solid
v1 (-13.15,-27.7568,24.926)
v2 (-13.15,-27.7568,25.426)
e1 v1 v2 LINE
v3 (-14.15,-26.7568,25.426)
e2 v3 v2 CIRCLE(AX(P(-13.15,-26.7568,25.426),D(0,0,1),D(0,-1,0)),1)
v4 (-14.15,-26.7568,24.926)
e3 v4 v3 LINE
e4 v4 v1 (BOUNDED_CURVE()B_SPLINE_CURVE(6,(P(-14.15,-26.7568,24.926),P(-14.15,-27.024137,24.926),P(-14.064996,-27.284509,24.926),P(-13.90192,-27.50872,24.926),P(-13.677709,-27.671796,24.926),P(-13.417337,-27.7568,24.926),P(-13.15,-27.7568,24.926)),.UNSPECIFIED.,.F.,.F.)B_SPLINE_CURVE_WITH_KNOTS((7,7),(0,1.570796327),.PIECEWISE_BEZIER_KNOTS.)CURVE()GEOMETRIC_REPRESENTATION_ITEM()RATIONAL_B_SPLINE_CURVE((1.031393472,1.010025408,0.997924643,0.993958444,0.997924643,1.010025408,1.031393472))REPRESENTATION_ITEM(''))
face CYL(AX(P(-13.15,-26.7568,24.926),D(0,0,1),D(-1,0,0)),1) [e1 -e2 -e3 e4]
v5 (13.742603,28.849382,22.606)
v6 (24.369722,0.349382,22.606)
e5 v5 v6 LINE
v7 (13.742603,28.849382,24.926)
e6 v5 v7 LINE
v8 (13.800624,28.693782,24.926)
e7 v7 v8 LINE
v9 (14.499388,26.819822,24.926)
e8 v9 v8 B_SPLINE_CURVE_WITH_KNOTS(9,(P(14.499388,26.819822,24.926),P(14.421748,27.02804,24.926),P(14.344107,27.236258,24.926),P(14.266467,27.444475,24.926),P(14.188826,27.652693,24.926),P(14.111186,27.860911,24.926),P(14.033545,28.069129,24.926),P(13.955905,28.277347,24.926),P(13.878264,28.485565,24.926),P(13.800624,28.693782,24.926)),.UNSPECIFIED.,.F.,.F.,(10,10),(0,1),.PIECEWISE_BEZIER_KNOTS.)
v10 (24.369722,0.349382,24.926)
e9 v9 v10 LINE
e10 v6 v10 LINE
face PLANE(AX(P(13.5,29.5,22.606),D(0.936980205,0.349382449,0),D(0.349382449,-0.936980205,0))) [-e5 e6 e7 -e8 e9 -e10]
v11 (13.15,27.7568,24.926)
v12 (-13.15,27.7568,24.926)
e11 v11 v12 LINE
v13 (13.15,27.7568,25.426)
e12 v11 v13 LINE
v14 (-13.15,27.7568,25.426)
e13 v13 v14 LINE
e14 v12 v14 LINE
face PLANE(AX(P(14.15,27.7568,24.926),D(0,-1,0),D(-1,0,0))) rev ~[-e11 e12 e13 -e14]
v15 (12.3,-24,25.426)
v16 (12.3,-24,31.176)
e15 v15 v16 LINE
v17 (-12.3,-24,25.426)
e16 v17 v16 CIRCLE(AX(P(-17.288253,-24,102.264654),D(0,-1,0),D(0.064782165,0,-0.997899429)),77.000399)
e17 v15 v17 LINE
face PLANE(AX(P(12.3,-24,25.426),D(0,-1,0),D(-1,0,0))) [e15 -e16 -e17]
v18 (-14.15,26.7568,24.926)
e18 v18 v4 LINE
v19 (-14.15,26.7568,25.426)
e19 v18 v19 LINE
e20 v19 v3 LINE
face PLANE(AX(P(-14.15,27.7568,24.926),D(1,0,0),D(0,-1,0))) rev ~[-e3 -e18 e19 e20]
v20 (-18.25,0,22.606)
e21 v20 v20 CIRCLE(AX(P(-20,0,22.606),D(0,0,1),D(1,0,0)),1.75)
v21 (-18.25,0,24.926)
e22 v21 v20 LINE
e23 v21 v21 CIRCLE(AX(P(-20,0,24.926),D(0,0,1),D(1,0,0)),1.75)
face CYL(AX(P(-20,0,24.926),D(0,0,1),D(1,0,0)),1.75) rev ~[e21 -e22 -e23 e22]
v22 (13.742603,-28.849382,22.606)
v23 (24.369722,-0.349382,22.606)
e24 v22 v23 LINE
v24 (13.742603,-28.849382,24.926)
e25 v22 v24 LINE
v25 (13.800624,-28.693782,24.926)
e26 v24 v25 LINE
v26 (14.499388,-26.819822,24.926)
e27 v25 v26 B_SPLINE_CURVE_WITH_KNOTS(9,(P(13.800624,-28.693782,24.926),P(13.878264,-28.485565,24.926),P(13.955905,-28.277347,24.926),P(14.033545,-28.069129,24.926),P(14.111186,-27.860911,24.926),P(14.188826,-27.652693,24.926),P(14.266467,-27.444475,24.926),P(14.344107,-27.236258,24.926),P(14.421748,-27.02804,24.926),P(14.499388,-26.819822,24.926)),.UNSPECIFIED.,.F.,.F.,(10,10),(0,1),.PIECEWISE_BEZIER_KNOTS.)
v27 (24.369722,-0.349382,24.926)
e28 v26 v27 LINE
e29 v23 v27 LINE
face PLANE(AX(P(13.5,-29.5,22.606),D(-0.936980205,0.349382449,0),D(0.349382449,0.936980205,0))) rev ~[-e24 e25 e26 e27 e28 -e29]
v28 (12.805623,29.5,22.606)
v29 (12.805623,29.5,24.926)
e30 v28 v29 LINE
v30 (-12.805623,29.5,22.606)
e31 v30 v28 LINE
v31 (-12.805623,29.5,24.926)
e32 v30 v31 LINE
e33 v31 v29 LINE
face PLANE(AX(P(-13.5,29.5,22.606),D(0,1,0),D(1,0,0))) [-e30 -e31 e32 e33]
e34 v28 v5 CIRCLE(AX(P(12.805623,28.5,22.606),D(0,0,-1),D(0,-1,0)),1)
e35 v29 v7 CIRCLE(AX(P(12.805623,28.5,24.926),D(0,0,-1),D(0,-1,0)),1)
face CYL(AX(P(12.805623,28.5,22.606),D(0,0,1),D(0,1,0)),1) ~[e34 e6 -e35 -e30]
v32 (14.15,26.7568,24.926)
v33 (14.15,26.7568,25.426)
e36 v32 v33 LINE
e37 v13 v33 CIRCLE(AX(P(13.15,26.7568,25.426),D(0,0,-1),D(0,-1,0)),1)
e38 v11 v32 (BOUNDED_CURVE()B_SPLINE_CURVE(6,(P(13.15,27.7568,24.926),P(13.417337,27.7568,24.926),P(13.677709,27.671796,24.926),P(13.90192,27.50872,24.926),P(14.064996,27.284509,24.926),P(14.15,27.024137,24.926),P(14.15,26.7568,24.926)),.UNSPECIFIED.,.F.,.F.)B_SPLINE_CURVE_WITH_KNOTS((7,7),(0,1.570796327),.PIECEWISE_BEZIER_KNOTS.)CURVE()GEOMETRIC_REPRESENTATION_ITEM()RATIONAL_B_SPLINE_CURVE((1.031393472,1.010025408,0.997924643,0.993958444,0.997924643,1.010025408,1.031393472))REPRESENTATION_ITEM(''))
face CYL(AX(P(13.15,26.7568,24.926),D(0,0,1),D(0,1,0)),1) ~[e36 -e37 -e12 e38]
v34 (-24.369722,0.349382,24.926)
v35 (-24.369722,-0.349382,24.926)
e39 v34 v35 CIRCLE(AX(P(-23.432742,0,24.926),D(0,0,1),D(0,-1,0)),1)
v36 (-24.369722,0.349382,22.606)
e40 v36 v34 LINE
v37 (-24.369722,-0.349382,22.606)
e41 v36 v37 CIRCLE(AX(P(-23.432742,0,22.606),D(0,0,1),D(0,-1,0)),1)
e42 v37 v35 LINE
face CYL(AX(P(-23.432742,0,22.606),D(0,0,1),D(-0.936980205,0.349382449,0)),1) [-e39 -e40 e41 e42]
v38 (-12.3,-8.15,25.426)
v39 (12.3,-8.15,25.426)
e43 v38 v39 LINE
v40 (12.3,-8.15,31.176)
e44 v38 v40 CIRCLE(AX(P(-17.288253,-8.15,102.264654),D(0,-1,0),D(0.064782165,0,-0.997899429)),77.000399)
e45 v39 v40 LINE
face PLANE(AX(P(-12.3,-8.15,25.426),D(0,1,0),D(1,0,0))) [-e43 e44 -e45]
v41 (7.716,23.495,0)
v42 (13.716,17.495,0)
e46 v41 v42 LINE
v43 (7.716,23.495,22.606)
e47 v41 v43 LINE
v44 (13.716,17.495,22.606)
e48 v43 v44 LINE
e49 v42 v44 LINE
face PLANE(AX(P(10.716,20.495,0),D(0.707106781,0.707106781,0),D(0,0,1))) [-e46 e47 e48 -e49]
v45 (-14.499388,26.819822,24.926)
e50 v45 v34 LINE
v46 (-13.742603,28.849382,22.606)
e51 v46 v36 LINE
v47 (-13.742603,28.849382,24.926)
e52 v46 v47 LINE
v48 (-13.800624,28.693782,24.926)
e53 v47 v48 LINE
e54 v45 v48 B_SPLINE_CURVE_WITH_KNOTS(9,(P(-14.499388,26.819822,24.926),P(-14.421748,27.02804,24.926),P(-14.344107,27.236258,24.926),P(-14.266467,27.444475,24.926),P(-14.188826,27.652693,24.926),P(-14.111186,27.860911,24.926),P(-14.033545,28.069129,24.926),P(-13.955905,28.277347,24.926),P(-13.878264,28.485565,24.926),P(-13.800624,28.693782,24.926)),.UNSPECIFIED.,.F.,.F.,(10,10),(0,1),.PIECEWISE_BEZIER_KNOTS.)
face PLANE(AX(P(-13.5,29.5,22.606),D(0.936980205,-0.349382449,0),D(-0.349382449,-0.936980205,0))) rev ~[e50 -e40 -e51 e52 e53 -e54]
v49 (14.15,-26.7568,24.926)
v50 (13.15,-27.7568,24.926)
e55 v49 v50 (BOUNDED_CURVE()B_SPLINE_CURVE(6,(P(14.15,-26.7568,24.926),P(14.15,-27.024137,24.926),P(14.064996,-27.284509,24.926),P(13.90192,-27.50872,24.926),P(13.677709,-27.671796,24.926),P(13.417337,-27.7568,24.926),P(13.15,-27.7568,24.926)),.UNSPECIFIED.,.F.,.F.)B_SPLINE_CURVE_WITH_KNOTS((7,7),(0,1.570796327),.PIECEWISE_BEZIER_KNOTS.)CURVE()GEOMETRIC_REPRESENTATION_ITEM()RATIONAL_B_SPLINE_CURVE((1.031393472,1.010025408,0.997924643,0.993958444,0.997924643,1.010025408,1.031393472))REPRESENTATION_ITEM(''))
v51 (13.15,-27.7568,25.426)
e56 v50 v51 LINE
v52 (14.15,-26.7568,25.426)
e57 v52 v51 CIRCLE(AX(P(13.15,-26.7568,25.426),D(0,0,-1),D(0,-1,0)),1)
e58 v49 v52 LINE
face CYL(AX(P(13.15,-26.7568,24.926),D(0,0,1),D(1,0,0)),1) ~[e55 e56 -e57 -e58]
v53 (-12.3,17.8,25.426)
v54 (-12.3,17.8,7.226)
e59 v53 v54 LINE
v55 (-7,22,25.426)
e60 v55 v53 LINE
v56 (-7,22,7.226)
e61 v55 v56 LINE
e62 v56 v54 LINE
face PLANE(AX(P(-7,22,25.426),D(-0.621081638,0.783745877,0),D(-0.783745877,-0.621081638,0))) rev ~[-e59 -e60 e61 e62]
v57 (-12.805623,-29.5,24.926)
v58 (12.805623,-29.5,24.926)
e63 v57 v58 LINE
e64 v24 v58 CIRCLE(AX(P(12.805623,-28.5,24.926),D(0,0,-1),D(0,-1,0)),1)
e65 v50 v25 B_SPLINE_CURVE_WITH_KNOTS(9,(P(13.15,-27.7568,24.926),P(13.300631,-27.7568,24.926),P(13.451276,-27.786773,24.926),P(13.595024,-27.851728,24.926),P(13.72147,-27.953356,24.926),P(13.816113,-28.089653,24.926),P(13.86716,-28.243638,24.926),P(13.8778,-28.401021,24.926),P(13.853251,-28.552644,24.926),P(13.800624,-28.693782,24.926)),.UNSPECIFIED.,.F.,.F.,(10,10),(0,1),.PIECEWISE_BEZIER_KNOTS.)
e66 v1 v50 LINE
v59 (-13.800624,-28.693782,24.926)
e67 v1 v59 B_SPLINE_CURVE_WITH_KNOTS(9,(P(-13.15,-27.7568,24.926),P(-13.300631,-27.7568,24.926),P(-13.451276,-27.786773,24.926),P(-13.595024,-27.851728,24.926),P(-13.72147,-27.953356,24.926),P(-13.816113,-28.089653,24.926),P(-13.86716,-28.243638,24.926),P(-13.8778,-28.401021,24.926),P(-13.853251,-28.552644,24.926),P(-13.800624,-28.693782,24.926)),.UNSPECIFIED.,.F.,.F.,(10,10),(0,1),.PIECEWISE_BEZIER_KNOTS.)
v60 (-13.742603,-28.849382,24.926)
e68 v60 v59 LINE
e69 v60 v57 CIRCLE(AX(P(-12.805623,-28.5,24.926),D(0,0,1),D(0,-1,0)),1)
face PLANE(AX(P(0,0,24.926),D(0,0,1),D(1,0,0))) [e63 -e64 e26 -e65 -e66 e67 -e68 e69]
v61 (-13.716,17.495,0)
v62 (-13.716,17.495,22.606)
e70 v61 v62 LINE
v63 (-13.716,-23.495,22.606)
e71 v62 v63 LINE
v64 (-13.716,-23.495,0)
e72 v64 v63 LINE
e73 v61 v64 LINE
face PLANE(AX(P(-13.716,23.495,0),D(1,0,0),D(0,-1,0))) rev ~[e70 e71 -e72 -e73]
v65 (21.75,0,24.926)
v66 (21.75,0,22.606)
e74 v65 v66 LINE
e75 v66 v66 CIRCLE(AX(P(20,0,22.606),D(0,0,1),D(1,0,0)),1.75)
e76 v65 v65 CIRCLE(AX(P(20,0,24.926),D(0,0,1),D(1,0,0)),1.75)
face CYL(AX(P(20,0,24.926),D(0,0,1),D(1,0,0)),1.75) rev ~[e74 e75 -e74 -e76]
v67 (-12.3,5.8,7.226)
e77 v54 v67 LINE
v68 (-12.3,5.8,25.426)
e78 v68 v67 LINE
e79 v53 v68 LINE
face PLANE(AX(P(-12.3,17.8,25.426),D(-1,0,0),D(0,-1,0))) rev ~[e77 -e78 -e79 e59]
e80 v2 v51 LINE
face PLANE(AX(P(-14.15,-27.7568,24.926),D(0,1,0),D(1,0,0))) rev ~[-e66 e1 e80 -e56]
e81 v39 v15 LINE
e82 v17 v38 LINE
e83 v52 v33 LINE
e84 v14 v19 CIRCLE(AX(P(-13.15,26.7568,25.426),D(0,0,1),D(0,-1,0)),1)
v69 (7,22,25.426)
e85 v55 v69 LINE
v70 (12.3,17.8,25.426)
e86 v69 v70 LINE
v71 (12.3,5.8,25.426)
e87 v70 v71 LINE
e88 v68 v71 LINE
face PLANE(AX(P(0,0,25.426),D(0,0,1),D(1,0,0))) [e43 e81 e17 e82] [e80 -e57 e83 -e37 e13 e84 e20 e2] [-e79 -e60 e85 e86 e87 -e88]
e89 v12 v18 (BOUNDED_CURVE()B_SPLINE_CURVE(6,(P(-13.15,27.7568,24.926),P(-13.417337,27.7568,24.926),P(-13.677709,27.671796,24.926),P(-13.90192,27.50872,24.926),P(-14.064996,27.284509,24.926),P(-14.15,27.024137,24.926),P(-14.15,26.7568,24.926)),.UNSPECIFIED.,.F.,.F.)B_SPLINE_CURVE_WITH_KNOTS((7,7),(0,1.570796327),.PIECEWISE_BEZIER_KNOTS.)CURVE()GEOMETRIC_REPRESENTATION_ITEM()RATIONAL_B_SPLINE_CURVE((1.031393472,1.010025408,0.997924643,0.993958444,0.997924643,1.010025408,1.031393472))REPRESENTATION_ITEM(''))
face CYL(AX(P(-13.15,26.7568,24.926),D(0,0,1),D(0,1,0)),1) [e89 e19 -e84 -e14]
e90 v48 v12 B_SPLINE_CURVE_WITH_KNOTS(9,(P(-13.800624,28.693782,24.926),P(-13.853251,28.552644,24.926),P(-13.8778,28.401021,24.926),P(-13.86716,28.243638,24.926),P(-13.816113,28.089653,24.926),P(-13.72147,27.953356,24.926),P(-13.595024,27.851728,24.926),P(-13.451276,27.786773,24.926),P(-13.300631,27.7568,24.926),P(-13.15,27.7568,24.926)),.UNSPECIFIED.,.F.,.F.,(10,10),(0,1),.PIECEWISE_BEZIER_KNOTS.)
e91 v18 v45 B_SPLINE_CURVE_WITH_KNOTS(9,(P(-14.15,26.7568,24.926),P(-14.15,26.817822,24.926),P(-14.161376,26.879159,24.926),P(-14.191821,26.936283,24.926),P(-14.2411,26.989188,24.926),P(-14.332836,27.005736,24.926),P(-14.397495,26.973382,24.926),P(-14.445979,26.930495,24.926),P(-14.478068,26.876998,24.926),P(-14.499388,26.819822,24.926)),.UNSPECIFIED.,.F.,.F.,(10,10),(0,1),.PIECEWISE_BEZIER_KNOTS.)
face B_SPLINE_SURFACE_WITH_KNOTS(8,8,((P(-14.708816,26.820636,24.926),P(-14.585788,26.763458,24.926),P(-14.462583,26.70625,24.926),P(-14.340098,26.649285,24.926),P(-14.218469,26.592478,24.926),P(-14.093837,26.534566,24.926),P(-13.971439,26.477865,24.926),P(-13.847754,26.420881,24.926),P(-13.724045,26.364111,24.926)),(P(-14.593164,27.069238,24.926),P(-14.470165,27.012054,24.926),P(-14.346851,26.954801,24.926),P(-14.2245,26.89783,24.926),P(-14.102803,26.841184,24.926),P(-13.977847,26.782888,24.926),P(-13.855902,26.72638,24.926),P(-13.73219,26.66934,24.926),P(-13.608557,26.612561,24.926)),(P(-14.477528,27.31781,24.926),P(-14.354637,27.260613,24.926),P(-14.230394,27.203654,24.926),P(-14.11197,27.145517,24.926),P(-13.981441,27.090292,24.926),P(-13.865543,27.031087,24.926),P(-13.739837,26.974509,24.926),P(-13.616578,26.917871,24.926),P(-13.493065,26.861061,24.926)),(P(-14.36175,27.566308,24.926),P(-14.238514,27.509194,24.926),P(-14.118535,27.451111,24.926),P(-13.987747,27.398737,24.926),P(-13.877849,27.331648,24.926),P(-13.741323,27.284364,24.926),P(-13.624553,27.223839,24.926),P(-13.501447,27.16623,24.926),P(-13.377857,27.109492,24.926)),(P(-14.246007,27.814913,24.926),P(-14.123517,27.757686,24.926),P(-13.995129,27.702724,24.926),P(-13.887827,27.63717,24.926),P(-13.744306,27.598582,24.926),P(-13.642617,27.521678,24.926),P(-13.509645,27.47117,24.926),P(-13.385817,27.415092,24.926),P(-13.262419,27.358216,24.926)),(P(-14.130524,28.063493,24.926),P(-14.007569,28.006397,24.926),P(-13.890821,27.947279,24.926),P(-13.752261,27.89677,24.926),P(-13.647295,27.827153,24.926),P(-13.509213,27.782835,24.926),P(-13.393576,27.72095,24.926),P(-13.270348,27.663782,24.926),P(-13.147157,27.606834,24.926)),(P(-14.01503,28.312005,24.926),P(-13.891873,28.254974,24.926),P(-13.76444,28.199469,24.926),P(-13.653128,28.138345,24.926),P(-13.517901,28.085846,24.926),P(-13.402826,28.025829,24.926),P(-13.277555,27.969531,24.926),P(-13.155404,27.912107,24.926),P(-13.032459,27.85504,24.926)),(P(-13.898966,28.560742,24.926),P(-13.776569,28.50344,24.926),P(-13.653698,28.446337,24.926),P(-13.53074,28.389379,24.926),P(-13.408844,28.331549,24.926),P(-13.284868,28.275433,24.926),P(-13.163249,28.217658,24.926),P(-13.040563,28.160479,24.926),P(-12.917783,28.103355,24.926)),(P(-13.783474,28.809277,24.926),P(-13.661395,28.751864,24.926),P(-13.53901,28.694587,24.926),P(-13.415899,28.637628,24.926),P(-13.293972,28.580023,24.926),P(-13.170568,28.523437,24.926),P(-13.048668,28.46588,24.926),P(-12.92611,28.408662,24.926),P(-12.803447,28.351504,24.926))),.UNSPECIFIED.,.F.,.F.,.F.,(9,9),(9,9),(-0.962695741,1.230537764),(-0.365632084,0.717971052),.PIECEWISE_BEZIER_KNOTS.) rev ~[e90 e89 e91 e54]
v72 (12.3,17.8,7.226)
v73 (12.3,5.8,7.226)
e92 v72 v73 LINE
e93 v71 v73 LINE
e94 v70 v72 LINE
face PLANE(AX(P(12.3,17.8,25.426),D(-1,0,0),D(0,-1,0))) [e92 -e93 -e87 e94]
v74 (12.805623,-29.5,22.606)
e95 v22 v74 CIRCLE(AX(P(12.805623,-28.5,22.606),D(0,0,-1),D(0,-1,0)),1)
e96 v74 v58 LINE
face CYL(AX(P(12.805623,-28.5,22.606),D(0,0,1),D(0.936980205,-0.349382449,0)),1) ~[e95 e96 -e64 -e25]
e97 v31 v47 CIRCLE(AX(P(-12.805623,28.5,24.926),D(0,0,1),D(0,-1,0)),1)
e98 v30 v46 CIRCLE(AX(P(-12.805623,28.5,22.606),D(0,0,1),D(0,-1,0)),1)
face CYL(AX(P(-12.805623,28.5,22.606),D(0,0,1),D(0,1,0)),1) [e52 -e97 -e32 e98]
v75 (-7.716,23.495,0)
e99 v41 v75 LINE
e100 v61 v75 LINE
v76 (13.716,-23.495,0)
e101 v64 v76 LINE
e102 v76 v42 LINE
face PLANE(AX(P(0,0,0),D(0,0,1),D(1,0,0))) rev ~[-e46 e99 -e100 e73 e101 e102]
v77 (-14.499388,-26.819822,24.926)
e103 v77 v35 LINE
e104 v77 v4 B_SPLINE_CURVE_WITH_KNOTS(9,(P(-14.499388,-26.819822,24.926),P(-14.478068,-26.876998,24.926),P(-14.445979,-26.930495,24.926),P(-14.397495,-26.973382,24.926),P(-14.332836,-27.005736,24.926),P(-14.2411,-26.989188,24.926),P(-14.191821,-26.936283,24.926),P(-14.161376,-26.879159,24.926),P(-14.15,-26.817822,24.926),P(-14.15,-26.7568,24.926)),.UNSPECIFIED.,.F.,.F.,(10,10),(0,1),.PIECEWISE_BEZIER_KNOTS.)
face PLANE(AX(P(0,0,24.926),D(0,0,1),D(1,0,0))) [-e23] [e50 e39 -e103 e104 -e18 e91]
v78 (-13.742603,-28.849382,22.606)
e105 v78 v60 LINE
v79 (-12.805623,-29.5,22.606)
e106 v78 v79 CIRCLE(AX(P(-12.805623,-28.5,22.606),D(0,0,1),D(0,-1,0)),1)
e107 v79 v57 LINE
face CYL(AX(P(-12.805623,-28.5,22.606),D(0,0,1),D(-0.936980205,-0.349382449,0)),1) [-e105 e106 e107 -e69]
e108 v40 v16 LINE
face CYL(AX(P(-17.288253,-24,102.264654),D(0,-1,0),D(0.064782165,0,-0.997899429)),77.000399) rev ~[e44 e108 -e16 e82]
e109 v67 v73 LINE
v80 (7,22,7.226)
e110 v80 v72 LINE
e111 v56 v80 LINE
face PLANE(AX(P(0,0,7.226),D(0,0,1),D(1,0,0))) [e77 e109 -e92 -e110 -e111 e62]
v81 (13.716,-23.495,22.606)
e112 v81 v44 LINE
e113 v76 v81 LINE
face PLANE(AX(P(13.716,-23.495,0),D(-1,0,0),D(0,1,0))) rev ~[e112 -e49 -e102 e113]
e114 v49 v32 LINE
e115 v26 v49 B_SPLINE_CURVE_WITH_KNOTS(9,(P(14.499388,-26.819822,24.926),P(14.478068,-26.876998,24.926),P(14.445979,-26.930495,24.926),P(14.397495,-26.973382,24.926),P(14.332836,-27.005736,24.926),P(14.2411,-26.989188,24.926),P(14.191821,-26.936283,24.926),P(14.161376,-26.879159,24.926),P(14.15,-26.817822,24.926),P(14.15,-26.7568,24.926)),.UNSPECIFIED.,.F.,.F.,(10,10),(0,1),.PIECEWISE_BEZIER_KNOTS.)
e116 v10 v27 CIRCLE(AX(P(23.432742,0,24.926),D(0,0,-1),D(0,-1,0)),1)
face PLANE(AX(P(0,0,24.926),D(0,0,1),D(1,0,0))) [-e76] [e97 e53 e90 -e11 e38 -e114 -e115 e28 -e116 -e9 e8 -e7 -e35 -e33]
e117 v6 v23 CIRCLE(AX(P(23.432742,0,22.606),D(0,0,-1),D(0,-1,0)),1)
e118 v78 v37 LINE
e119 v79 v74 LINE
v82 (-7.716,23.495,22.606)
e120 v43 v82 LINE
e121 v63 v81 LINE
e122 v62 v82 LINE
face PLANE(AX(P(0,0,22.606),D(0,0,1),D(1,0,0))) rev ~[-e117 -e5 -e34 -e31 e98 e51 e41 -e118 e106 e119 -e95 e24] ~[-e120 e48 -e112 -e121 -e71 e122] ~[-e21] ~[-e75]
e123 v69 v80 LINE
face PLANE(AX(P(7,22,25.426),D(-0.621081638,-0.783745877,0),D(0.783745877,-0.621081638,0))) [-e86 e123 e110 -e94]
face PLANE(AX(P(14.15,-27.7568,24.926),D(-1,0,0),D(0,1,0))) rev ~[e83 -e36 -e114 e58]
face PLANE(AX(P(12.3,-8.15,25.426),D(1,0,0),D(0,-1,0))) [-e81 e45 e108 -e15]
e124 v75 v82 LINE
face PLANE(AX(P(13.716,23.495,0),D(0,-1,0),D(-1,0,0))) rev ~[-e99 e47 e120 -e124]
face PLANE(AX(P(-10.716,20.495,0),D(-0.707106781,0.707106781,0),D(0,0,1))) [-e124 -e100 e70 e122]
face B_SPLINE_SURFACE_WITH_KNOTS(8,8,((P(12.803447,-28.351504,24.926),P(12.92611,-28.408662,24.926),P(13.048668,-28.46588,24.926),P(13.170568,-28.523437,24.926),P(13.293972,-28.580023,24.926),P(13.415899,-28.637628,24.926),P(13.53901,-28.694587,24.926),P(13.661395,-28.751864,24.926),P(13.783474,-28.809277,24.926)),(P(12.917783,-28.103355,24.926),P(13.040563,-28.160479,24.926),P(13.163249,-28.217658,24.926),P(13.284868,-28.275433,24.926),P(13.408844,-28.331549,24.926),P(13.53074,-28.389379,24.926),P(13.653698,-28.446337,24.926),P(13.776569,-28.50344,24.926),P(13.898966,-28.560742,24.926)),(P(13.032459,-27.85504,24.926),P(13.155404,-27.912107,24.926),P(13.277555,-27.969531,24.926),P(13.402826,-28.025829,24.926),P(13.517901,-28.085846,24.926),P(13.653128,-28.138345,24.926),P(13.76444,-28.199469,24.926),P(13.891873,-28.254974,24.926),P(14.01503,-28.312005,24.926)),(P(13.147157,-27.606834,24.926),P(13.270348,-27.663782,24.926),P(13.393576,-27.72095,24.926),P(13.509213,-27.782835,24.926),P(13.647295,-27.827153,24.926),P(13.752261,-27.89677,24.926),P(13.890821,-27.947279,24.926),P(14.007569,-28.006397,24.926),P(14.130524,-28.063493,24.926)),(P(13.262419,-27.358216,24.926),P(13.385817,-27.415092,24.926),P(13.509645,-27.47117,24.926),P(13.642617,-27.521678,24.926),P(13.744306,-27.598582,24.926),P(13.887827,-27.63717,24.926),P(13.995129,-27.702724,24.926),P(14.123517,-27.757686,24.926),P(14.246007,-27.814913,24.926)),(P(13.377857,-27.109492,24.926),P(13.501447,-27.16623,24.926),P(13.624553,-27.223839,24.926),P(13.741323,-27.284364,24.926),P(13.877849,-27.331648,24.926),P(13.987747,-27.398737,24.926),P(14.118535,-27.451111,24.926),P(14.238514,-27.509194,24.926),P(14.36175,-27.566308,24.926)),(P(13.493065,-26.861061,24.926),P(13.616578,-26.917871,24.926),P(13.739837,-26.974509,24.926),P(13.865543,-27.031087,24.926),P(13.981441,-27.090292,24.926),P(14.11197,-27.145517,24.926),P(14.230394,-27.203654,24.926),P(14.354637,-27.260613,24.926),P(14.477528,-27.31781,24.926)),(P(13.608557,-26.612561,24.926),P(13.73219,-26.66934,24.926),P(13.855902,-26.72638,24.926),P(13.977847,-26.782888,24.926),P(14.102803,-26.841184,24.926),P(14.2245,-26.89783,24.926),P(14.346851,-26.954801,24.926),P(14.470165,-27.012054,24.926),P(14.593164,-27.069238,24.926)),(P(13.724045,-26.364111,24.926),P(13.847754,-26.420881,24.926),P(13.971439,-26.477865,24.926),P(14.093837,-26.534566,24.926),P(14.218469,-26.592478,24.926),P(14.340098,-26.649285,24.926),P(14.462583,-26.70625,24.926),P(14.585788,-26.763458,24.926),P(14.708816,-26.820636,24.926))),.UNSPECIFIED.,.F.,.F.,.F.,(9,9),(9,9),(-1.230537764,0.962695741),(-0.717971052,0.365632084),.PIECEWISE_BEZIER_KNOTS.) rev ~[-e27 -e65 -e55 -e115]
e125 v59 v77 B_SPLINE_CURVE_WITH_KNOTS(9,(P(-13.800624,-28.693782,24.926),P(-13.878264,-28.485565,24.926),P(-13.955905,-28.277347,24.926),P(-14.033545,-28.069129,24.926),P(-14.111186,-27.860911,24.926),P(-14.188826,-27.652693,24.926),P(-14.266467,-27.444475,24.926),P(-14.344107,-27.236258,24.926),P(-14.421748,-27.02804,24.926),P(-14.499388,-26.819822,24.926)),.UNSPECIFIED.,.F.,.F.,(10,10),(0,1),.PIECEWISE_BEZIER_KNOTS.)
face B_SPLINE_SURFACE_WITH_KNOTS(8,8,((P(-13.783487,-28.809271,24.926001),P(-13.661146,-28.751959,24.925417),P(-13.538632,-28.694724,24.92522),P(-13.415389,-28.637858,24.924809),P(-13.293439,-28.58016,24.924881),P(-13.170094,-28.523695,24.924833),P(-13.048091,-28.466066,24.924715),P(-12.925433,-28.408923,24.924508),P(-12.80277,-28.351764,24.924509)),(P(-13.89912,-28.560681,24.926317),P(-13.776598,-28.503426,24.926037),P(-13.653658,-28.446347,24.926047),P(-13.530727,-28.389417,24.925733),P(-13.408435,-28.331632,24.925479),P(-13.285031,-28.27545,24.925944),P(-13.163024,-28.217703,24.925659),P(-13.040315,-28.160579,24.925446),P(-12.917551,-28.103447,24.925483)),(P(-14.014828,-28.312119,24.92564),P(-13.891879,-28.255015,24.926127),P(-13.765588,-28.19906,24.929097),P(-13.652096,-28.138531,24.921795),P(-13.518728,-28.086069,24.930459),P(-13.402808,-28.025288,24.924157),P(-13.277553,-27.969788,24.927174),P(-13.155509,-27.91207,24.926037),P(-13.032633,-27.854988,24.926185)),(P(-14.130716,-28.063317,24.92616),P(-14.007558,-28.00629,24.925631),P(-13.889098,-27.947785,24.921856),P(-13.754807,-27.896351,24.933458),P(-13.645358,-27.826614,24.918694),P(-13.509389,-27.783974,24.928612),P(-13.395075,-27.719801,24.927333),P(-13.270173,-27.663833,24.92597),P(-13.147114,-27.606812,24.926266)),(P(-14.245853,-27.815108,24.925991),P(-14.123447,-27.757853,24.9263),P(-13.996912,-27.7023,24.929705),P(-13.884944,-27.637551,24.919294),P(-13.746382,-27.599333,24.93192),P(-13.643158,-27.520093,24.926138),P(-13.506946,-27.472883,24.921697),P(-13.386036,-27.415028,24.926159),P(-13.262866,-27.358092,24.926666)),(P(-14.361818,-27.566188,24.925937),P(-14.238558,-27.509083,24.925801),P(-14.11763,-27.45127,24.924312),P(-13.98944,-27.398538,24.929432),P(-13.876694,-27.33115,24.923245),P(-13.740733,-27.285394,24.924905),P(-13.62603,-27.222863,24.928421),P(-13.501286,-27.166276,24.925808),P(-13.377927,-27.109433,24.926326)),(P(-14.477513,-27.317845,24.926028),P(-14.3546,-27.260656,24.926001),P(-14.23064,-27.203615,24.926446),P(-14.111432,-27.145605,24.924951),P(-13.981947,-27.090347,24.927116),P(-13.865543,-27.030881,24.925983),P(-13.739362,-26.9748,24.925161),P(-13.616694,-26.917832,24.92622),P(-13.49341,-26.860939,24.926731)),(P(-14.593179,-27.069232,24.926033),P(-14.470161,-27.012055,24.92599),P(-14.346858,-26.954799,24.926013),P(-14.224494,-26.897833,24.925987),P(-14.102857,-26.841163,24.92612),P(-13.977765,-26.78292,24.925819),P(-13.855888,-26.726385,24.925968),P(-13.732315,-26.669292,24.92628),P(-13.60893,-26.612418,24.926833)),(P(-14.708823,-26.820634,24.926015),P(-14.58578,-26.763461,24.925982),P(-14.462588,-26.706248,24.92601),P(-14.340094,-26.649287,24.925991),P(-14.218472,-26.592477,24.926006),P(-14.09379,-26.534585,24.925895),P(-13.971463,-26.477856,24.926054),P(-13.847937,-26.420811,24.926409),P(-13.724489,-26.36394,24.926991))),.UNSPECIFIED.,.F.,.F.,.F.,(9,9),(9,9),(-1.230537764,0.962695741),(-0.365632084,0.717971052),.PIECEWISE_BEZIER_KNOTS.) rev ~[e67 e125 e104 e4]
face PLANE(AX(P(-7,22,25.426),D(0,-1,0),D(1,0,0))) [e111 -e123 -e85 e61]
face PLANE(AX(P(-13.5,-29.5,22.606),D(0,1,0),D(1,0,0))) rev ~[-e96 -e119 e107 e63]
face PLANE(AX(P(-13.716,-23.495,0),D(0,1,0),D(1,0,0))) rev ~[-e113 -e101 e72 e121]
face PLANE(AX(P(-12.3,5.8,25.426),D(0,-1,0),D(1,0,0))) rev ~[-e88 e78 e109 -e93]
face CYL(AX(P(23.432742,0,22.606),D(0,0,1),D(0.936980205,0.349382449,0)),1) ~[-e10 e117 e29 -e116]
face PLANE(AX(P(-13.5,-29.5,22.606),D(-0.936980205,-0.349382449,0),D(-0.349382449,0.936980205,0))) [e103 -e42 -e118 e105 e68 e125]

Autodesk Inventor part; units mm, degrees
ref_plane "YZ Plane" through (0, 0, 0) normal (1, 0, 0) x (0, 1, 0)
ref_plane "XZ Plane" through (0, 0, 0) normal (0, 1, 0) x (-1, 0, 0)
ref_plane "XY Plane" through (0, 0, 0) normal (0, 0, 1) x (1, 0, 0)
sketch "Body" plane through (0, 0, 0) normal (0, 0, 1) x (1, 0, 0)
  line L0 (-13.716, -23.495) -> (13.716, -23.495)
  line L1 (13.716, -23.495) -> (13.716, 23.495)
  line L2 (13.716, 23.495) -> (-13.716, 23.495)
  line L3 (-13.716, 23.495) -> (-13.716, -23.495)
  line L4 (-13.716, -23.495) -> (13.716, 23.495) construction
  line L5 (13.716, -23.495) -> (-13.716, 23.495) construction
  point P0 (0, 0)
  dimension "d0" = 27.432
  dimension "d1" = 46.99
extrude "BodyFeature" add sketch "Body" along normal blind 22.606
chamfer "OutsideChamfersFeature" distance 6 angle 45 2 edges at (13.716, 23.495, 11.303) (-13.716, 23.495, 11.303)
sketch "Mount" plane through (0, 0, 22.606) normal (0, 0, 1) x (1, 0, 0)
  line L0 (-24.5, -29.5) -> (24.5, -29.5) construction
  line L1 (24.5, -29.5) -> (24.5, 29.5) construction
  line L2 (24.5, 29.5) -> (-24.5, 29.5) construction
  line L3 (-24.5, 29.5) -> (-24.5, -29.5) construction
  line L4 (-24.5, -29.5) -> (24.5, 29.5) construction
  line L5 (24.5, -29.5) -> (-24.5, 29.5) construction
  line L6 (-13.5, 29.5) -> (13.5, 29.5)
  line L7 (-13.5, 29.5) -> (-24.5, 0)
  line L8 (13.5, 29.5) -> (24.5, 0)
  line L9 (-33.6, 0) -> (33.6, 0) construction
  line L10 (-13.5, -29.5) -> (13.5, -29.5)
  line L11 (-13.5, -29.5) -> (-24.5, 0)
  line L12 (13.5, -29.5) -> (24.5, 0)
  point P0 (0, 0)
  point P1 (0, 29.5)
  dimension "d7" = 59
  dimension "d8" = 49
  dimension "d9" = 27
extrude "MountFeature" add sketch "Mount" along normal blind 2.32
fillet "MountFilletsFeature" radius 1 6 edges at (-13.5, 29.5, 23.766) (13.5, 29.5, 23.766) (-24.5, 0, 23.766) (24.5, 0, 23.766) (13.5, -29.5, 23.766) (-13.5, -29.5, 23.766)
sketch "MountHoles" plane through (0, 0, 24.926) normal (0, 0, 1) x (1, 0, 0)
  line L0 (-34.3, 0) -> (34.3, 0) construction
  circle A0 centre (-20, 0) radius 1.75
  line L1 (0, -41.3) -> (0, 41.3) construction
  circle A1 centre (20, 0) radius 1.75
  point P0 (0, 0)
  dimension "d13" = 3.5
  dimension "d14" = 40
extrude "MountHolesFeature" cut sketch "MountHoles" against normal blind 3.5
sketch "FrontPanel" plane through (0, 0, 24.926) normal (0, 0, 1) x (1, 0, 0)
  line L0 (-14.15, -27.7568) -> (14.15, -27.7568)
  line L1 (14.15, -27.7568) -> (14.15, 27.7568)
  line L2 (14.15, 27.7568) -> (-14.15, 27.7568)
  line L3 (-14.15, 27.7568) -> (-14.15, -27.7568)
  line L4 (-14.15, -27.7568) -> (14.15, 27.7568) construction
  line L5 (14.15, -27.7568) -> (-14.15, 27.7568) construction
  line L6 (24.3697, 0.3494) -> (13.7426, 28.8494) construction
  point P0 (0, 0)
  dimension "d17" = 28.3
extrude "FrontPanelFeature" add sketch "FrontPanel" along normal blind 0.5
fillet "FrontPanelFilletsFeature" radius 1 4 edges at (-14.15, -27.7568, 25.176) (14.15, -27.7568, 25.176) (-14.15, 27.7568, 25.176) (14.15, 27.7568, 25.176)
sketch "PowerReceptacle" plane through (0, 0, 25.426) normal (0, 0, 1) x (1, 0, 0)
  line L0 (0, -41.3) -> (0, 41.3) construction
  line L1 (-12.3, 22) -> (12.3, 22) construction
  line L2 (12.3, 22) -> (12.3, 5.8) construction
  line L3 (12.3, 5.8) -> (-12.3, 5.8) construction
  line L4 (-12.3, 5.8) -> (-12.3, 22) construction
  line L5 (-12.3, 22) -> (12.3, 5.8) construction
  line L6 (12.3, 22) -> (-12.3, 5.8) construction
  line L7 (12.8056, 29.5) -> (-12.8056, 29.5) construction
  line L8 (-7, 22) -> (7, 22)
  line L9 (-7, 22) -> (-12.3, 17.8)
  line L10 (-12.3, 17.8) -> (-12.3, 5.8)
  line L11 (7.716, 23.495) -> (-7.716, 23.495) projected
  line L12 (7, 22) -> (12.3, 17.8)
  line L13 (12.3, 17.8) -> (12.3, 5.8)
  line L14 (-12.3, 5.8) -> (12.3, 5.8)
  line L15 (14.15, 26.7568) -> (14.15, -26.7568) projected
  point P0 (0, 0)
  point P1 (0, 13.9)
  point P2 (0, 22)
  dimension "d22" = 24.6
  dimension "d23" = 16.2
  dimension "d24" = 7.5
  dimension "d25" = 14
  dimension "d26" = 12
extrude "PowerReceptacleFeature" cut sketch "PowerReceptacle" against normal blind 18.2
sketch "Switch" plane through (0, 0, 25.426) normal (0, 0, 1) x (1, 0, 0)
  line L0 (0, -41.3) -> (0, 41.3) construction
  line L1 (-12.3, -8.15) -> (12.3, -8.15)
  line L2 (12.3, -8.15) -> (12.3, -24)
  line L3 (12.3, -24) -> (-12.3, -24)
  line L4 (-12.3, -24) -> (-12.3, -8.15)
  line L5 (-12.3, -8.15) -> (12.3, -24) construction
  line L6 (12.3, -8.15) -> (-12.3, -24) construction
  line L7 (-12.8056, -29.5) -> (12.8056, -29.5) projected
  line L8 (-12.3, 5.8) -> (-12.3, 17.8) projected
  line L9 (12.3, 17.8) -> (12.3, 5.8) projected
  point P0 (0, 0)
  point P1 (0, -16.075)
  dimension "d29" = 5.5
  dimension "d30" = 15.85
extrude "SwitchFeature" add sketch "Switch" along normal blind 5.75
sketch "SwitchProfile" plane through (-12.3, -24, 25.426) normal (0, -1, 0) x (1, 0, 0)
  line L0 (24.6, 0) -> (0, 0) projected
  line L1 (24.6, 0) -> (24.6, 5.75) projected
  line L2 (0, 5.75) -> (24.6, 5.75) projected
  line L3 (0, 0) -> (0, 5.75) projected
  arc A0 (0, 0) -> (24.6, 5.75) centre (-4.9882, 76.8383) ccw
  point P0 (12.3, -25.426)
  dimension "d33" = 77
extrude "SwitchProfileFeature" cut sketch "SwitchProfile" against normal up to surface (15.85 mm away) contours L3 L2 A0
equation "\"d15\" = d13"
properties part number "AC-14-F16A"
